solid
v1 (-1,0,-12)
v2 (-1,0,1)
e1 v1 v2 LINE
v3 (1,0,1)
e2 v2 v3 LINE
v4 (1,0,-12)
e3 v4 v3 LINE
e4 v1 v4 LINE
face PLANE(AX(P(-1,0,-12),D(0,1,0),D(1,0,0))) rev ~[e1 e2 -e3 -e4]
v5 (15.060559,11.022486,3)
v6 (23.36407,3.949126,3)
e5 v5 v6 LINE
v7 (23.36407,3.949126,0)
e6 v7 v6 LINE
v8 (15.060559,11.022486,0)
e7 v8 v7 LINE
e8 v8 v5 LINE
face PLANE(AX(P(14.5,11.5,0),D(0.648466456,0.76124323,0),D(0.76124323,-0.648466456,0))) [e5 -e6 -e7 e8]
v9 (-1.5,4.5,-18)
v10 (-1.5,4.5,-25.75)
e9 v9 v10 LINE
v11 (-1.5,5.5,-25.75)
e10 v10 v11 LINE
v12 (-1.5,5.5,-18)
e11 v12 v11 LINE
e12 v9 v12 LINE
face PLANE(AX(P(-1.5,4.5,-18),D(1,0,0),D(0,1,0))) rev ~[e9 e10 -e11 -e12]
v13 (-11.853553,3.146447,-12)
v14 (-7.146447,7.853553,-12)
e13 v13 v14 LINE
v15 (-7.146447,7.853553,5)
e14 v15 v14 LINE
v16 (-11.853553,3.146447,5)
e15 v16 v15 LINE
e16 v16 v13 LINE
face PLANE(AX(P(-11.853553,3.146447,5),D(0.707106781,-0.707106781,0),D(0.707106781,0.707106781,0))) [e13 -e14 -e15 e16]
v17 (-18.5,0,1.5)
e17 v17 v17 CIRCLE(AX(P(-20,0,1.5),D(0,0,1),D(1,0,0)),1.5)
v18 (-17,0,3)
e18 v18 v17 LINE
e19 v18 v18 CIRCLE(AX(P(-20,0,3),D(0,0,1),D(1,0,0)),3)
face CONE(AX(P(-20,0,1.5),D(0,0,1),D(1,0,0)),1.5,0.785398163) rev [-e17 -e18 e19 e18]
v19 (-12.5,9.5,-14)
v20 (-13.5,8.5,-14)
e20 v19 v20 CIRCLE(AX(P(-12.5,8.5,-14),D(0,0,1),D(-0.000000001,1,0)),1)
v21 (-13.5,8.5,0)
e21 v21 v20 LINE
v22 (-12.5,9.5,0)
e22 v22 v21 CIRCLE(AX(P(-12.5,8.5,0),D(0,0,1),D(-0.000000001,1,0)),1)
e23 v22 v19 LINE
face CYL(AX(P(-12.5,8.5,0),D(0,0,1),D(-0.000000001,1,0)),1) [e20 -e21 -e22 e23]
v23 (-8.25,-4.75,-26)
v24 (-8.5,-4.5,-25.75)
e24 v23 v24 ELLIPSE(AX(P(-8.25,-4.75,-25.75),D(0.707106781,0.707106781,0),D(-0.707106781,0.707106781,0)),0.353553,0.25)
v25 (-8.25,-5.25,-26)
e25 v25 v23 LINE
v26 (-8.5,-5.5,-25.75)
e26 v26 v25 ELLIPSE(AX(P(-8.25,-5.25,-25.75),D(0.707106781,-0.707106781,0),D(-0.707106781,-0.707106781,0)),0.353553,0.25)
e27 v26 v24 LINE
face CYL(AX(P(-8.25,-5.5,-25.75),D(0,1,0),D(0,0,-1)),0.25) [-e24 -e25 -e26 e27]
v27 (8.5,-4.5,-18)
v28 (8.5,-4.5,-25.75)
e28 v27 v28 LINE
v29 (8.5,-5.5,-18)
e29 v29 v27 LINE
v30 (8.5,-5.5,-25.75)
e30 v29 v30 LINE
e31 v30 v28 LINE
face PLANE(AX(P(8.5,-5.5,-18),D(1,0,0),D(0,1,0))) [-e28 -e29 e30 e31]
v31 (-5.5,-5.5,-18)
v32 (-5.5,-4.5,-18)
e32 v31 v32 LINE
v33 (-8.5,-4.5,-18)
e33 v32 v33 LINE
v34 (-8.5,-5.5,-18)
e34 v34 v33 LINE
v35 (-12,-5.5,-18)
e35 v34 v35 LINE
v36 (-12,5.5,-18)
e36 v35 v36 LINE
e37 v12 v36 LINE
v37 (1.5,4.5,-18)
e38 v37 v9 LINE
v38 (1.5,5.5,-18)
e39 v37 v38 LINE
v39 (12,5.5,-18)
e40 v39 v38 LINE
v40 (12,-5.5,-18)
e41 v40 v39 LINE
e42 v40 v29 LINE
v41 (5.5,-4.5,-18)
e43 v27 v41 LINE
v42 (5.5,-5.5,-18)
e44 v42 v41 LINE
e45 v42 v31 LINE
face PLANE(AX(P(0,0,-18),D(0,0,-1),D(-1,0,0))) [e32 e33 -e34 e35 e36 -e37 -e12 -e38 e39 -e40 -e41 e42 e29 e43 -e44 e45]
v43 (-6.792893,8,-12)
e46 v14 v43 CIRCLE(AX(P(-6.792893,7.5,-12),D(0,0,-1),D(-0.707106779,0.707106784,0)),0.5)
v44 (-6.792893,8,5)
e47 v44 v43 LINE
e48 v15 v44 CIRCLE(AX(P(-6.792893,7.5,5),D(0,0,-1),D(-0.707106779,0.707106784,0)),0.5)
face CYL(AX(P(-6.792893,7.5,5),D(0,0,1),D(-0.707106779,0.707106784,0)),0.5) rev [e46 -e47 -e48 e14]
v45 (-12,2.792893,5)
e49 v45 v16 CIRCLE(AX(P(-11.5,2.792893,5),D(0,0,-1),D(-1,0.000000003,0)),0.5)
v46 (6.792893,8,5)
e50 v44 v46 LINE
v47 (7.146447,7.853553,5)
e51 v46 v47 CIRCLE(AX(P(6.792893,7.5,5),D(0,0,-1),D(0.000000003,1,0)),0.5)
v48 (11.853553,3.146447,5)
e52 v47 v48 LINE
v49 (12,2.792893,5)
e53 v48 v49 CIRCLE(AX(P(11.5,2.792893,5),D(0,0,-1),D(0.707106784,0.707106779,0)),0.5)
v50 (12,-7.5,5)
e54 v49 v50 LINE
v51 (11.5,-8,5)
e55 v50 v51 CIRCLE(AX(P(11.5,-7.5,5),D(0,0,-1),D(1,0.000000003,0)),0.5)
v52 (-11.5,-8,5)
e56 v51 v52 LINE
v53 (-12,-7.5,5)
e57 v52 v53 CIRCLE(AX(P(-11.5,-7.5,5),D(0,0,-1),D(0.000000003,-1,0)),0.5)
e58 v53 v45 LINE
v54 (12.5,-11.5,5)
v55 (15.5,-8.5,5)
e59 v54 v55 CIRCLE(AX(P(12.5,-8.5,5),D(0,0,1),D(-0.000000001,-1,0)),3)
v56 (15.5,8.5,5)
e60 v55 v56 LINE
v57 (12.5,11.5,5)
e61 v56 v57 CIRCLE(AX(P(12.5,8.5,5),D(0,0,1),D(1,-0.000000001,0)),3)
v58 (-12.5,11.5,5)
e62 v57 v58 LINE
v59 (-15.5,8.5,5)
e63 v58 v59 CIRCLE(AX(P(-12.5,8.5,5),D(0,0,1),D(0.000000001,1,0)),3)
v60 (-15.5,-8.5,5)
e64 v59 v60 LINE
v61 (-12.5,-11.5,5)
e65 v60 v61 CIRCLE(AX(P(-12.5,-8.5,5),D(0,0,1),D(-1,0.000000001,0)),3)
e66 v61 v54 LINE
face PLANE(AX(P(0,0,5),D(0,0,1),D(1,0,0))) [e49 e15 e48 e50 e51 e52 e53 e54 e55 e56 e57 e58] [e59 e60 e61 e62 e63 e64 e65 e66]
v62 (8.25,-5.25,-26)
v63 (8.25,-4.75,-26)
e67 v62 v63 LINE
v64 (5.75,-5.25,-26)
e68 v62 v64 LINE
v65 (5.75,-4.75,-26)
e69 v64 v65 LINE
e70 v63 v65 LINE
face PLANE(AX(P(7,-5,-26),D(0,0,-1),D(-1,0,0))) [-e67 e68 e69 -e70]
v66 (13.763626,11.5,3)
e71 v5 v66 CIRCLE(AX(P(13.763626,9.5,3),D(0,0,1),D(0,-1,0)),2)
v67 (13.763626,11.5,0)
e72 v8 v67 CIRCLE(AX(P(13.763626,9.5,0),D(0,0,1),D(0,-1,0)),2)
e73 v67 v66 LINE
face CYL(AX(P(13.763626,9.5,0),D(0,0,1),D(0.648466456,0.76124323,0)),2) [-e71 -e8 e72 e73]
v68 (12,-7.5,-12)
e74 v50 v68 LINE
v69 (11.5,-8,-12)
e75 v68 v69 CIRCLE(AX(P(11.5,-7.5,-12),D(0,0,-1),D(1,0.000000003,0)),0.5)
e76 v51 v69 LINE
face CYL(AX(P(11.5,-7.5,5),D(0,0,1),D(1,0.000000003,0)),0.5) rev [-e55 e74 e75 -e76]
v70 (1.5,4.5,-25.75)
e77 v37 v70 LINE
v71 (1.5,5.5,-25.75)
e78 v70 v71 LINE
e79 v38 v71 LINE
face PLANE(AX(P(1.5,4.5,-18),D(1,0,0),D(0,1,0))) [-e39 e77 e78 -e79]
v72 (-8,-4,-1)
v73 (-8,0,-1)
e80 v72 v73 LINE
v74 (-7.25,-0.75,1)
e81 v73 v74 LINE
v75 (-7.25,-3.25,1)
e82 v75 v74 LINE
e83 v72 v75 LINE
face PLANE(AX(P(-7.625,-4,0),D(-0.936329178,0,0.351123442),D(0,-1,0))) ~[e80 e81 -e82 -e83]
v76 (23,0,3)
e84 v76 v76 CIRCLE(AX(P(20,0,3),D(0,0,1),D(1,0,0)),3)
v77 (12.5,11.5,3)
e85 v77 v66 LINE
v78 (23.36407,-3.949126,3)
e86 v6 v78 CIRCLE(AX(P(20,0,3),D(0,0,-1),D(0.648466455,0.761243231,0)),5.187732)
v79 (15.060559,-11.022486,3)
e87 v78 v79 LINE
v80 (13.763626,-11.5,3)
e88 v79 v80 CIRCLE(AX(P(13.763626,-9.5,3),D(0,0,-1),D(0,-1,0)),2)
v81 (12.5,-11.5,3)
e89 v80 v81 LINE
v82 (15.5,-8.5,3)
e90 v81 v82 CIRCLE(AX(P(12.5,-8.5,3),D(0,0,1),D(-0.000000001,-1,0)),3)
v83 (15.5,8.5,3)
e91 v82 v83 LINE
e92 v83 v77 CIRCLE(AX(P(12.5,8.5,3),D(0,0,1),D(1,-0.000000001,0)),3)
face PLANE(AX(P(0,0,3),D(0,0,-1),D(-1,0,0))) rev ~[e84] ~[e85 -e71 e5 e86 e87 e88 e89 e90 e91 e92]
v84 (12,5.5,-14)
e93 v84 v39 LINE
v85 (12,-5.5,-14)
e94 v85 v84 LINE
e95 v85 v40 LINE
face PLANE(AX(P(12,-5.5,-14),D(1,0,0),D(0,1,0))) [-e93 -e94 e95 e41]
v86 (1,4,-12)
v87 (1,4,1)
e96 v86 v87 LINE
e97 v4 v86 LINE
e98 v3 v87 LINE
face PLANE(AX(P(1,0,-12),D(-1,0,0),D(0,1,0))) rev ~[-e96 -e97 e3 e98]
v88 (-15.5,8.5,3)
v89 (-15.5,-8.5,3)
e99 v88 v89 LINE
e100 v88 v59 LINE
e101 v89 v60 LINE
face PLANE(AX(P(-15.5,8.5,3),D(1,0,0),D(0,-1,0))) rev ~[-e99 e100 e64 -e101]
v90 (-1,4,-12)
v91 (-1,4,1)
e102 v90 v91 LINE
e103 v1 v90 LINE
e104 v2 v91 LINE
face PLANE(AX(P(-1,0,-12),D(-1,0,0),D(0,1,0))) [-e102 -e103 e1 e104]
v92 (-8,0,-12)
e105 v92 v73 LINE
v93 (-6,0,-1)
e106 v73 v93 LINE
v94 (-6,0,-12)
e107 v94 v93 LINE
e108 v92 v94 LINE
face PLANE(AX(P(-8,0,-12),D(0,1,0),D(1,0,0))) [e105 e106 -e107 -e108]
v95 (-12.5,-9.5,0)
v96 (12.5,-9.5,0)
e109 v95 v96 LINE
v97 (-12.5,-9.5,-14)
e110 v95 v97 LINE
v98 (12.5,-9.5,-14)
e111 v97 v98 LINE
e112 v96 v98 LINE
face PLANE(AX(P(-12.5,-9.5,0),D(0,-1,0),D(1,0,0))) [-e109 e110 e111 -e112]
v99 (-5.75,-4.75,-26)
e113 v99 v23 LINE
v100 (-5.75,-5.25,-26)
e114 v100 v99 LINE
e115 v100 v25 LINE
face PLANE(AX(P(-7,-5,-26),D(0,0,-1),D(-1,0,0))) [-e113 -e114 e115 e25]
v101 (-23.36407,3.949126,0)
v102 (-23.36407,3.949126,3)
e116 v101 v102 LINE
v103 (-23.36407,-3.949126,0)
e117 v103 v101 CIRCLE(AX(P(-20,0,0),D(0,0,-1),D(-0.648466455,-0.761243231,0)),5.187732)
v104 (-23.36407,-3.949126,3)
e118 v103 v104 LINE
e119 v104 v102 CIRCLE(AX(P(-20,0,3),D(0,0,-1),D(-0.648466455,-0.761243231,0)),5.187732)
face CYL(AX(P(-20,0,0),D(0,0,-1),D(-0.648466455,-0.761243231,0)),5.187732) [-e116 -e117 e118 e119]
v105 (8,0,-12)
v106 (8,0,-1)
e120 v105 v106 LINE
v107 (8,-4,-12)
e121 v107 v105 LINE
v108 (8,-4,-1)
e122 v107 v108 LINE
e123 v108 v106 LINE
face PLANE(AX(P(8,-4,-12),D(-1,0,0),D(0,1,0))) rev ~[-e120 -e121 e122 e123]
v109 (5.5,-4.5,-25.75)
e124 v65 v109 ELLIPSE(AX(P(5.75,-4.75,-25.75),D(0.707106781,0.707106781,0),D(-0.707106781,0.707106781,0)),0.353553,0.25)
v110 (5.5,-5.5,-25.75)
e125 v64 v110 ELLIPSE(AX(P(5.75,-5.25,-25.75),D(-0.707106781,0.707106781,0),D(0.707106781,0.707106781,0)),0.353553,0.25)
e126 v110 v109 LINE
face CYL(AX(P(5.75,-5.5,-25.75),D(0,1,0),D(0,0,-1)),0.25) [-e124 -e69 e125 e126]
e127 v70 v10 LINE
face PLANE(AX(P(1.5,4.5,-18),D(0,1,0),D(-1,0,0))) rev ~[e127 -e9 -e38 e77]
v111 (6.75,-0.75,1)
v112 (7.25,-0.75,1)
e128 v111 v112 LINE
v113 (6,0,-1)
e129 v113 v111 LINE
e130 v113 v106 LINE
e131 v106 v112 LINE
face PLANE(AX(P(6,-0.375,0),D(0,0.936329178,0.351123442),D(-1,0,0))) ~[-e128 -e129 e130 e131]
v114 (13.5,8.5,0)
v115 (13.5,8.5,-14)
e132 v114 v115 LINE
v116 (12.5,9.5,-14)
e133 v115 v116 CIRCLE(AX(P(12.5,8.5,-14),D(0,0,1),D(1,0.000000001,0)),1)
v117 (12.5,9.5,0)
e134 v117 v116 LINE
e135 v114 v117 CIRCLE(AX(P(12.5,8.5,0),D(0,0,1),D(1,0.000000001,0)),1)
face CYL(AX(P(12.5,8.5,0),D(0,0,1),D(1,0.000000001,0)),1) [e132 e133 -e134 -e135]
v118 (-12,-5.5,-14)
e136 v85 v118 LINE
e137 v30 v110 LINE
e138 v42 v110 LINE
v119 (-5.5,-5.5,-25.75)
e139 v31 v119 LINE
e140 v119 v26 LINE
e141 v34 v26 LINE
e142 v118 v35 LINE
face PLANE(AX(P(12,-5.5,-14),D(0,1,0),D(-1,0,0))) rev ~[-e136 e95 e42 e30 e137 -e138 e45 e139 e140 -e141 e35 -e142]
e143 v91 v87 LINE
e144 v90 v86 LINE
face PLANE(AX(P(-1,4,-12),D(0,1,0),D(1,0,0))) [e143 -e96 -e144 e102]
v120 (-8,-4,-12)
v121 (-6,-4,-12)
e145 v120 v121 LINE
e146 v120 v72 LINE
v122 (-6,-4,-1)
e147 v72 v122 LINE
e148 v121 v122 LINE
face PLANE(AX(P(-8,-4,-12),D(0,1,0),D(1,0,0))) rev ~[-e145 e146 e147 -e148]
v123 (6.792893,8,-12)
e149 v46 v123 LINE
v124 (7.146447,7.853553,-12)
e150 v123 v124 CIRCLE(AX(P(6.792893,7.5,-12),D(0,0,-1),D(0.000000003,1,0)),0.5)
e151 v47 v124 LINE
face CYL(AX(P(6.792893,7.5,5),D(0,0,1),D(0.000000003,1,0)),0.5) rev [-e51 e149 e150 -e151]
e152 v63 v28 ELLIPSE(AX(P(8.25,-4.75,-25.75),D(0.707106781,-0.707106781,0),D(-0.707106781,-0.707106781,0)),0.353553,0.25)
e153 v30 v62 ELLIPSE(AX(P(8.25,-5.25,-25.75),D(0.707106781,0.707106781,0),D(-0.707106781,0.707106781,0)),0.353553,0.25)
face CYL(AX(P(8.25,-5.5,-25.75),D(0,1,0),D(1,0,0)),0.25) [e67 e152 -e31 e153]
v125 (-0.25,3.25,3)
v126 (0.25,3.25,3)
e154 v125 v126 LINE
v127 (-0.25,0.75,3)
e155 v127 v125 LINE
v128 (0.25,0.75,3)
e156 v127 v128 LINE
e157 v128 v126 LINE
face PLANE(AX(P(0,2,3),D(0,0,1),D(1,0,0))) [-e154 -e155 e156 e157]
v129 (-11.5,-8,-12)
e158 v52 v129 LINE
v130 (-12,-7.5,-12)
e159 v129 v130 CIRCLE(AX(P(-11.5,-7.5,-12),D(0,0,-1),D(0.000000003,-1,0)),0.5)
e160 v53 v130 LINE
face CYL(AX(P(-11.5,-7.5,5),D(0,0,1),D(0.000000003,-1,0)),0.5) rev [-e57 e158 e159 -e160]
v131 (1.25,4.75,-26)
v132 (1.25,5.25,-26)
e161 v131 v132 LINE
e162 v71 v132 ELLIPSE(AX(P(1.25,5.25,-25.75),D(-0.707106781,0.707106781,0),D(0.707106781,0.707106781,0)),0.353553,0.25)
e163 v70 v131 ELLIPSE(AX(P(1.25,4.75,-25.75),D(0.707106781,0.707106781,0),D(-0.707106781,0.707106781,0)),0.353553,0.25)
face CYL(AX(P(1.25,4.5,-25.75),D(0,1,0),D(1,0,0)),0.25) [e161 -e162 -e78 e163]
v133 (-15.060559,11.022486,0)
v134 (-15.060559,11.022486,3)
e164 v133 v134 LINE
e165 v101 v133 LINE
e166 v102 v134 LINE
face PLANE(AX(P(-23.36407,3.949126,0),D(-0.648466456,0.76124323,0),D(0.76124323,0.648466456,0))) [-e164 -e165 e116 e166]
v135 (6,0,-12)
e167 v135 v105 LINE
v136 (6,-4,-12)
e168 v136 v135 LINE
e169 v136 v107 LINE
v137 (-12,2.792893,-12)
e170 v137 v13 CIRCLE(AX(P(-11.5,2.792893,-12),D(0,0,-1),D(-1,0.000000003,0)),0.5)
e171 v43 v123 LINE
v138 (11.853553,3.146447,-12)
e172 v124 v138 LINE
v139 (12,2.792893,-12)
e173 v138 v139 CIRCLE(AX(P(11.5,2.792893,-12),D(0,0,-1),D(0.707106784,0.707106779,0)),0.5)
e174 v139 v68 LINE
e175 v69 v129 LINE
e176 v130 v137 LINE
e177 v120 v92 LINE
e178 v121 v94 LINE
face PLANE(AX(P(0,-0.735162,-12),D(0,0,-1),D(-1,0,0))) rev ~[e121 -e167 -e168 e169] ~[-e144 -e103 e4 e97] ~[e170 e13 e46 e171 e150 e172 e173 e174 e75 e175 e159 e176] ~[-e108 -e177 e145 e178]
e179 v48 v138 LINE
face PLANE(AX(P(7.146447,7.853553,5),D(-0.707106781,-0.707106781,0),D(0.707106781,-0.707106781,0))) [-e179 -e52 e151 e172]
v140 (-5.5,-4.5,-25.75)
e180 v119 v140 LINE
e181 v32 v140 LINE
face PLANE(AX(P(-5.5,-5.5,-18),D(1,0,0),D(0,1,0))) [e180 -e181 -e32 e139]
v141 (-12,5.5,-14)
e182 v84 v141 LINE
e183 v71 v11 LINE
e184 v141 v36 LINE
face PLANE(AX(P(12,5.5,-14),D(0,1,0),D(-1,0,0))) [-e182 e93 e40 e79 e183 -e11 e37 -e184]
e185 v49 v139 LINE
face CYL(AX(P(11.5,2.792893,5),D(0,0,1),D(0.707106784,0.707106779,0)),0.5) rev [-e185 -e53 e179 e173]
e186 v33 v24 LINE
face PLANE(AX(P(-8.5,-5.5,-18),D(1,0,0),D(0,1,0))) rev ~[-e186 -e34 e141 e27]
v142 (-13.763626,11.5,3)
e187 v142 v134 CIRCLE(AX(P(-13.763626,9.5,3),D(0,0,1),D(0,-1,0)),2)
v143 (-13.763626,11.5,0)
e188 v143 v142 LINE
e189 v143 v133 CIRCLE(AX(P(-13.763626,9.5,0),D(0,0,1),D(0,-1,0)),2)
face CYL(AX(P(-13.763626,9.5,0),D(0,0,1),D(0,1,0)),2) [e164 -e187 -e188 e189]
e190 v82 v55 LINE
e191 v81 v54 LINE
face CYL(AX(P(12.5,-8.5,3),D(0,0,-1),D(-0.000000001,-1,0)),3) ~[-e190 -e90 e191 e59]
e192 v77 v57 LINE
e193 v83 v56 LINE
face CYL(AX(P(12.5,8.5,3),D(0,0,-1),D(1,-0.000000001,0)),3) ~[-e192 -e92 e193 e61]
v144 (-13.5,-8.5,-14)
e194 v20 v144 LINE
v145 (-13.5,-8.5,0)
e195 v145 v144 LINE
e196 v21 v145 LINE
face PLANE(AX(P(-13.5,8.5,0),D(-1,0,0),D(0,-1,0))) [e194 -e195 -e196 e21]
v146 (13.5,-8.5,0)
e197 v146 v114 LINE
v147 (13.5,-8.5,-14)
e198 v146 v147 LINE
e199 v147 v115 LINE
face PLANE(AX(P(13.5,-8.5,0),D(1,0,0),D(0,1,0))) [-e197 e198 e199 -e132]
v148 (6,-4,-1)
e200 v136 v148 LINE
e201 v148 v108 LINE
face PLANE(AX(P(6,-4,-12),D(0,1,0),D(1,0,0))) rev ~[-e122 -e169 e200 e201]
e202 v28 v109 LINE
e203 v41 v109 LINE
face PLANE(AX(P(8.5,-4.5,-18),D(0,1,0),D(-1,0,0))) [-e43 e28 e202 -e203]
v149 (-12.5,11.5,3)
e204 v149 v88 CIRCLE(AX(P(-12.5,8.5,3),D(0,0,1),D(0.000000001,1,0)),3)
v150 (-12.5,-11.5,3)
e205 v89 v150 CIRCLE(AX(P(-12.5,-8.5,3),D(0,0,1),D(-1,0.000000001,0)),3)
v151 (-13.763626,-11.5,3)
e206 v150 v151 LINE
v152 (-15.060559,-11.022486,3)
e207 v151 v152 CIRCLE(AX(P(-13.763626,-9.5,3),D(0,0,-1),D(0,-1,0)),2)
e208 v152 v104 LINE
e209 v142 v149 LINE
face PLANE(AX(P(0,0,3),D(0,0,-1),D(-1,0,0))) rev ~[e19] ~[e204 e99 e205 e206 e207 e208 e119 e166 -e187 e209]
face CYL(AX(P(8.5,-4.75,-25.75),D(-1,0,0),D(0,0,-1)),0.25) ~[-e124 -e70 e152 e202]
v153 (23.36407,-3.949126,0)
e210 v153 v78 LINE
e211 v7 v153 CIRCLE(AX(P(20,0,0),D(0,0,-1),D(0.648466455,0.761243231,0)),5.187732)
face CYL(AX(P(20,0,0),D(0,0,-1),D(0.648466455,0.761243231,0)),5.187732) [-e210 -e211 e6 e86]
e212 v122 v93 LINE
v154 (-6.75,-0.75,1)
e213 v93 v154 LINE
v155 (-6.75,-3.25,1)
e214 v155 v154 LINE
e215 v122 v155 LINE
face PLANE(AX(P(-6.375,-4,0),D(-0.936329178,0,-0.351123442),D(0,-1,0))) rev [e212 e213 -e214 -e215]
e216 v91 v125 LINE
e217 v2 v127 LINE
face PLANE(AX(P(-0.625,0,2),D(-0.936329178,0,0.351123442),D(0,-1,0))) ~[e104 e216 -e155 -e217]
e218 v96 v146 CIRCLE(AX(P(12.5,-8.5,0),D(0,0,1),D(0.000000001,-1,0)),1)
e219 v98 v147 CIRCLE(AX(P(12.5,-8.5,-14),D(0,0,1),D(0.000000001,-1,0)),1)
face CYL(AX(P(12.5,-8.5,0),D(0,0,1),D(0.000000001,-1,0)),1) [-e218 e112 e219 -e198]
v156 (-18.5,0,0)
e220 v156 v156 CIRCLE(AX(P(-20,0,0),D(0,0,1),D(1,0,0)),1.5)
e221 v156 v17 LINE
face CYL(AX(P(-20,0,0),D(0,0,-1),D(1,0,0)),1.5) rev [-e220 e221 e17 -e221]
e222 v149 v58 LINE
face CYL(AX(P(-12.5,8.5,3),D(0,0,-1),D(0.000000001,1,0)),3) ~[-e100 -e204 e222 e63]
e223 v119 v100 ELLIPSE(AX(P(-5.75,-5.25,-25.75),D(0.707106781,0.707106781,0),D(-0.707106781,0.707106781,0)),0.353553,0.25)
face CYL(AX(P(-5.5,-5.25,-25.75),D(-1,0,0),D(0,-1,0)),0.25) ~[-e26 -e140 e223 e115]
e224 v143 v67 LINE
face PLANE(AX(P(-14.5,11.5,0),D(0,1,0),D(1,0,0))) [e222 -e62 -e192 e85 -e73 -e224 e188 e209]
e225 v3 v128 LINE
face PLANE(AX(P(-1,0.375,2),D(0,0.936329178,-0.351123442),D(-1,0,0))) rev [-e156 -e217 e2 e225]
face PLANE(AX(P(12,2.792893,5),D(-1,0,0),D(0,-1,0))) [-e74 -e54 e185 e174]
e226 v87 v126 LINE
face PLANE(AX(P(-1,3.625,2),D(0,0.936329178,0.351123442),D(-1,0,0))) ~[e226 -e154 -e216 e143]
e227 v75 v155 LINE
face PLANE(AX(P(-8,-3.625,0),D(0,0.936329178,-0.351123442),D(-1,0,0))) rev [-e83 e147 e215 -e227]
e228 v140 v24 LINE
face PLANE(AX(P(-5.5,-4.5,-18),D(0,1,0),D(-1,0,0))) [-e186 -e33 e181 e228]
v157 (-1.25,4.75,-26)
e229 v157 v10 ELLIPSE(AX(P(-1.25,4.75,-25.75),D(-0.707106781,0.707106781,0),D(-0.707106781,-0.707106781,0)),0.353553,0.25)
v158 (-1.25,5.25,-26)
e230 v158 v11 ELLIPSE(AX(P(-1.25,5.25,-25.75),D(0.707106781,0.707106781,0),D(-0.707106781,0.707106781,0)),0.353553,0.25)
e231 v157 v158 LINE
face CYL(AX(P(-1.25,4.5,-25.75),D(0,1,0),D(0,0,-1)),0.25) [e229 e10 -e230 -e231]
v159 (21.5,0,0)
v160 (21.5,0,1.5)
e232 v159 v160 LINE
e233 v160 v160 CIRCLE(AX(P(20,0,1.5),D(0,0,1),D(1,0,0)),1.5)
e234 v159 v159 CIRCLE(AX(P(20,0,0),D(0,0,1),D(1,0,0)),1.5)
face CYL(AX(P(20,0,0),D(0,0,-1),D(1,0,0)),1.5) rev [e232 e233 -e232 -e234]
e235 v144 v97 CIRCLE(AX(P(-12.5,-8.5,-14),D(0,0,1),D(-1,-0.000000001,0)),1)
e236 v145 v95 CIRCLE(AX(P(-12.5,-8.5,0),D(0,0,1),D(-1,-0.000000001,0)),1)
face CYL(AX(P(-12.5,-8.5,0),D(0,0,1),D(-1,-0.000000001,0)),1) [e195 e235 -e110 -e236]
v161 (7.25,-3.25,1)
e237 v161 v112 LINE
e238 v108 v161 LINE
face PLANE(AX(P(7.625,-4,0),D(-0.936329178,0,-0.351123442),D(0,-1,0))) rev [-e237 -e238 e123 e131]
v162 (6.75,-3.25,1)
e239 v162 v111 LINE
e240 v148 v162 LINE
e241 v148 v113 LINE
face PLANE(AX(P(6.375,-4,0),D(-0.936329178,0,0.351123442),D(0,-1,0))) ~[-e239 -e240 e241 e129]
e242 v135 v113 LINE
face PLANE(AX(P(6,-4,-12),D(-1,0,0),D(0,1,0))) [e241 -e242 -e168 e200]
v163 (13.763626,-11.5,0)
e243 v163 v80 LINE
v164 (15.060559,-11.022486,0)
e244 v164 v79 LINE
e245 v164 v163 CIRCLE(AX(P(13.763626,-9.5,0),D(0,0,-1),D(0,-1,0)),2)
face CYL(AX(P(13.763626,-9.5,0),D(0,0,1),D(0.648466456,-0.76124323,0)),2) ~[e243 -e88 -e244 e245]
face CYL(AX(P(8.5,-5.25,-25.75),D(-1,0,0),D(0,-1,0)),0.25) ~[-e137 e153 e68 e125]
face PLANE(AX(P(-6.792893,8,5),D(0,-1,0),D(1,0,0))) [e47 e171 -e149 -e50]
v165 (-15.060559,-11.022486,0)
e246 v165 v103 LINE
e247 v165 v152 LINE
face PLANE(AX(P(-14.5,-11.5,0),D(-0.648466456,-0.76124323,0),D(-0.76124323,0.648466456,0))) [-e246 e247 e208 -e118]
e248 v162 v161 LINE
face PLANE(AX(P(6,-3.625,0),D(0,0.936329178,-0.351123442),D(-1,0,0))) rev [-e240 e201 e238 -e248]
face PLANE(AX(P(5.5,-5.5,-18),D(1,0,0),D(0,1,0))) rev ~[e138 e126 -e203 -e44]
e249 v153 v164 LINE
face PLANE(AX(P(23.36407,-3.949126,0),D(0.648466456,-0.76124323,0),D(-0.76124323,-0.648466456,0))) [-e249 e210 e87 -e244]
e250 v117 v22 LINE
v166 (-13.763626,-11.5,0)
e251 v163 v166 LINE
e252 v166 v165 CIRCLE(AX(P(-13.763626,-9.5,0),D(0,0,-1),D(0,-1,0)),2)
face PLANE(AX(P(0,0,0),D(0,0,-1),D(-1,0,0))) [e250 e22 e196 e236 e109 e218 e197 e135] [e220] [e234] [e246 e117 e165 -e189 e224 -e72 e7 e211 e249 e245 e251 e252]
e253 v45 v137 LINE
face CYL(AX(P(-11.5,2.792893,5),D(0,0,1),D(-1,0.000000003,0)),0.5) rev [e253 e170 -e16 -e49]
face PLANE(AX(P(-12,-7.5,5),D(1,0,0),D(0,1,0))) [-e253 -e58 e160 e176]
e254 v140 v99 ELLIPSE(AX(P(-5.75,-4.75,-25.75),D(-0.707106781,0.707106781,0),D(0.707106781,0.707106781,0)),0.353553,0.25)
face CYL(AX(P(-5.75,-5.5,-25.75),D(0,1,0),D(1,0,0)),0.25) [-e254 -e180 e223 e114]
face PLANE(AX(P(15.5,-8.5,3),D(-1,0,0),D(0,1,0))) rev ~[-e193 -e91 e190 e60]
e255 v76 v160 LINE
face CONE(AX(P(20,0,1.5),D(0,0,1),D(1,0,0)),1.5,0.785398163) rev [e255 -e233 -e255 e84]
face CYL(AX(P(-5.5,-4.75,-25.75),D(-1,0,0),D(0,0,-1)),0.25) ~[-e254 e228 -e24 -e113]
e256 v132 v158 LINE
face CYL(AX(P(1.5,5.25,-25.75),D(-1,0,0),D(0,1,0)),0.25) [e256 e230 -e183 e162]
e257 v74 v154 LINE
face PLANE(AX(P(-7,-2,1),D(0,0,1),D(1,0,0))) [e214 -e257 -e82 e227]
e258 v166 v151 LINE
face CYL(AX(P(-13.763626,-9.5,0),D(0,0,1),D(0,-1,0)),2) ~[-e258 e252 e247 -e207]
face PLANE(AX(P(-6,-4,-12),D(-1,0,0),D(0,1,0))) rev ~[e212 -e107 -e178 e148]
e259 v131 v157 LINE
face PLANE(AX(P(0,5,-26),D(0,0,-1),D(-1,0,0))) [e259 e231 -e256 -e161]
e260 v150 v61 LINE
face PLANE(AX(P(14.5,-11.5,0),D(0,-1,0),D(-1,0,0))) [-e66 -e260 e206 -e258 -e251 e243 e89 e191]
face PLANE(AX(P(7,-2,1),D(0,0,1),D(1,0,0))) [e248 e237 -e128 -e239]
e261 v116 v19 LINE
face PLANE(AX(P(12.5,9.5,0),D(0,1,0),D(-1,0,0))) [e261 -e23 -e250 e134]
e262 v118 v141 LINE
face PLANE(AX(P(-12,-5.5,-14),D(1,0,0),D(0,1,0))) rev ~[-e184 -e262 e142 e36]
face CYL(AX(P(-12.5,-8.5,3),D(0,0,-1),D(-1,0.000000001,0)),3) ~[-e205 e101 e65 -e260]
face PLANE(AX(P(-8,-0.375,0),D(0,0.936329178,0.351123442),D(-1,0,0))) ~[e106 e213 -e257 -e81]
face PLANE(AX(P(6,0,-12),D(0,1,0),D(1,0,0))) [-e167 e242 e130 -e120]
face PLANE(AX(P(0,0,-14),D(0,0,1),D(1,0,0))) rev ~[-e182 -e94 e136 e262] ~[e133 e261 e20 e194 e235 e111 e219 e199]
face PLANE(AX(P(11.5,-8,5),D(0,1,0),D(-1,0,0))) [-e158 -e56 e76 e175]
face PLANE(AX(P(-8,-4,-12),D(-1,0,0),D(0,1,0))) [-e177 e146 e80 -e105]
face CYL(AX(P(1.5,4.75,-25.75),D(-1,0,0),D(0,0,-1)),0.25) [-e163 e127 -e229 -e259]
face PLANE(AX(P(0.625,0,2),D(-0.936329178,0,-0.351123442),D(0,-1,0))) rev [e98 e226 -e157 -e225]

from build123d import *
from OCP.BRepFilletAPI import BRepFilletAPI_MakeChamfer

# Parameters (mm, degrees)
SKIZZE1_R                       = 1.5
AUFSATZ_LINEAR_AUSTRAGEN1_DEPTH = 3
VERRUNDUNG1_R                   = 2
FASE1_SIZE                      = 1.5
AUFSATZ_LINEAR_AUSTRAGEN2_DEPTH = 2
AUFSATZ_LINEAR_AUSTRAGEN3_DEPTH = 14
SCHNITT_LINEAR_AUSTRAGEN1_DEPTH = 17
SKIZZE5_W                       = 24
SKIZZE5_H                       = 11
AUFSATZ_LINEAR_AUSTRAGEN4_DEPTH = 4
SKIZZE6_W                       = 3
SKIZZE6_H                       = 1
AUFSATZ_LINEAR_AUSTRAGEN5_DEPTH = 8
SKIZZE7_W                       = 2
SKIZZE7_H                       = 4
AUFSATZ_LINEAR_AUSTRAGEN6_DEPTH = 13
SKIZZE8_W                       = 2
SKIZZE8_H                       = 4
AUFSATZ_LINEAR_AUSTRAGEN7_DEPTH = 15
FASE2_SIZE                      = 2
FASE2_SIZE2                     = 0.75
VERRUNDUNG2_R                   = 0.25


with BuildPart() as part:
    # Skizze1 → Aufsatz-Linear austragen1 (new body)
    with BuildSketch(Plane.XY):
        with BuildLine():
            ThreePointArc((23.364069952, 3.949125596), (25.187731645, 0), (23.364069952, -3.949125596))
            Line((23.364069952, -3.949125596), (14.5, -11.5))
            Line((14.5, -11.5), (-14.5, -11.5))
            Line((-14.5, -11.5), (-23.364069952, -3.949125596))
            ThreePointArc((-23.364069952, -3.949125596), (-25.187731645, 0), (-23.364069952, 3.949125596))
            Line((-23.364069952, 3.949125596), (-14.5, 11.5))
            Line((-14.5, 11.5), (14.5, 11.5))
            Line((14.5, 11.5), (23.364069952, 3.949125596))
        make_face()
        with Locations((20, 0)):
            Circle(SKIZZE1_R, mode=Mode.SUBTRACT)
        with Locations((-20, 0)):
            Circle(SKIZZE1_R, mode=Mode.SUBTRACT)
    extrude(amount=AUFSATZ_LINEAR_AUSTRAGEN1_DEPTH)

    # Verrundung1
    verrundung1_edges = [part.edges().sort_by_distance(p)[0] for p in [
        (14.5, -11.5, 1.5),
        (-14.5, -11.5, 1.5),
        (-14.5, 11.5, 1.5),
        (14.5, 11.5, 1.5),
    ]]
    fillet(verrundung1_edges, radius=VERRUNDUNG1_R)

    # Fase1
    fase1_edges = [part.edges().sort_by_distance(p)[0] for p in [
        (18.5, 0, 3),
        (-21.5, 0, 3),
    ]]
    chamfer(fase1_edges, length=FASE1_SIZE)

    # Skizze2 → Aufsatz-Linear austragen2 (add)
    with BuildSketch(Plane.XY.offset(3)):
        with BuildLine():
            Line((-12.5, -11.5), (12.5, -11.5))
            ThreePointArc((12.5, -11.5), (14.621320344, -10.621320344), (15.5, -8.5))
            Line((15.5, -8.5), (15.5, 8.5))
            ThreePointArc((15.5, 8.5), (14.621320344, 10.621320344), (12.5, 11.5))
            Line((12.5, 11.5), (-12.5, 11.5))
            ThreePointArc((-12.5, 11.5), (-14.621320344, 10.621320344), (-15.5, 8.5))
            Line((-15.5, 8.5), (-15.5, -8.5))
            ThreePointArc((-15.5, -8.5), (-14.621320344, -10.621320344), (-12.5, -11.5))
        make_face()
    extrude(amount=AUFSATZ_LINEAR_AUSTRAGEN2_DEPTH)

    # Skizze4 → Aufsatz-Linear austragen3 (add)
    with BuildSketch(Plane(origin=(0, 0, 0), x_dir=(-1, 0, 0), z_dir=(0, 0, -1))):
        with BuildLine():
            Line((12.5, -9.5), (-12.5, -9.5))
            ThreePointArc((-12.5, -9.5), (-13.207106781, -9.207106781), (-13.5, -8.5))
            Line((-13.5, -8.5), (-13.5, 8.5))
            ThreePointArc((-13.5, 8.5), (-13.207106781, 9.207106781), (-12.5, 9.5))
            Line((-12.5, 9.5), (12.5, 9.5))
            ThreePointArc((12.5, 9.5), (13.207106781, 9.207106781), (13.5, 8.5))
            Line((13.5, 8.5), (13.5, -8.5))
            ThreePointArc((13.5, -8.5), (13.207106781, -9.207106781), (12.5, -9.5))
        make_face()
    extrude(amount=AUFSATZ_LINEAR_AUSTRAGEN3_DEPTH)

    # Skizze3 → Schnitt-Linear austragen1 (cut)
    with BuildSketch(Plane.XY.offset(5)):
        with BuildLine():
            Line((11.5, -8), (-11.5, -8))
            ThreePointArc((-11.5, -8), (-11.853553391, -7.853553391), (-12, -7.5))
            Line((-12, -7.5), (-12, 2.792893219))
            ThreePointArc((-12, 2.792893219), (-11.961939766, 2.984234935), (-11.853553391, 3.146446609))
            Line((-11.853553391, 3.146446609), (-7.146446609, 7.853553391))
            ThreePointArc((-7.146446609, 7.853553391), (-6.984234935, 7.961939766), (-6.792893219, 8))
            Line((-6.792893219, 8), (6.792893219, 8))
            ThreePointArc((6.792893219, 8), (6.984234935, 7.961939766), (7.146446609, 7.853553391))
            Line((7.146446609, 7.853553391), (11.853553391, 3.146446609))
            ThreePointArc((11.853553391, 3.146446609), (11.961939766, 2.984234935), (12, 2.792893219))
            Line((12, 2.792893219), (12, -7.5))
            ThreePointArc((12, -7.5), (11.853553391, -7.853553391), (11.5, -8))
        make_face()
    extrude(amount=-SCHNITT_LINEAR_AUSTRAGEN1_DEPTH, mode=Mode.SUBTRACT)

    # Skizze5 → Aufsatz-Linear austragen4 (add)
    with BuildSketch(Plane(origin=(0, 0, -14), x_dir=(-1, 0, 0), z_dir=(0, 0, -1))):
        Rectangle(SKIZZE5_W, SKIZZE5_H)
    extrude(amount=AUFSATZ_LINEAR_AUSTRAGEN4_DEPTH)

    # Skizze6 → Aufsatz-Linear austragen5 (add)
    with BuildSketch(Plane(origin=(0, 0, -18), x_dir=(-1, 0, 0), z_dir=(0, 0, -1))):
        with Locations((0, 5)):
            Rectangle(SKIZZE6_W, SKIZZE6_H)
        with Locations((-7, -5)):
            Rectangle(SKIZZE6_W, SKIZZE6_H)
        with Locations((7, -5)):
            Rectangle(SKIZZE6_W, SKIZZE6_H)
    extrude(amount=AUFSATZ_LINEAR_AUSTRAGEN5_DEPTH)

    # Skizze7 → Aufsatz-Linear austragen6 (add)
    with BuildSketch(Plane.XY.offset(-12)):
        with Locations((-7, -2)):
            Rectangle(SKIZZE7_W, SKIZZE7_H)
        with Locations((7, -2)):
            Rectangle(SKIZZE7_W, SKIZZE7_H)
    extrude(amount=AUFSATZ_LINEAR_AUSTRAGEN6_DEPTH)

    # Skizze8 → Aufsatz-Linear austragen7 (add)
    with BuildSketch(Plane.XY.offset(-12)):
        with Locations((0, 2)):
            Rectangle(SKIZZE8_W, SKIZZE8_H)
    extrude(amount=AUFSATZ_LINEAR_AUSTRAGEN7_DEPTH)

    # Fase2: one chamfer whose edges measure the first distance from different faces: ONE call of the kernel's chamfer builder (chamfer() names one face for all edges)
    fase2_edges_1 = [part.edges().sort_by_distance(p)[0] for p in [
        (7, -4, 1),
    ]]
    fase2_side_1 = [part.faces().sort_by_distance(p)[0] for p in [
        (7, -4, -5.5),
    ]]
    fase2_edges_2 = [part.edges().sort_by_distance(p)[0] for p in [
        (6, -2, 1),
    ]]
    fase2_side_2 = [part.faces().sort_by_distance(p)[0] for p in [
        (6, -2, -5.5),
    ]]
    fase2_edges_3 = [part.edges().sort_by_distance(p)[0] for p in [
        (7, 0, 1),
    ]]
    fase2_side_3 = [part.faces().sort_by_distance(p)[0] for p in [
        (7, 0, -5.5),
    ]]
    fase2_edges_4 = [part.edges().sort_by_distance(p)[0] for p in [
        (8, -2, 1),
    ]]
    fase2_side_4 = [part.faces().sort_by_distance(p)[0] for p in [
        (8, -2, -5.5),
    ]]
    fase2_edges_5 = [part.edges().sort_by_distance(p)[0] for p in [
        (0, 0, 3),
    ]]
    fase2_side_5 = [part.faces().sort_by_distance(p)[0] for p in [
        (0, 0, -4.5),
    ]]
    fase2_edges_6 = [part.edges().sort_by_distance(p)[0] for p in [
        (-1, 2, 3),
    ]]
    fase2_side_6 = [part.faces().sort_by_distance(p)[0] for p in [
        (-1, 2, -4.5),
    ]]
    fase2_edges_7 = [part.edges().sort_by_distance(p)[0] for p in [
        (0, 4, 3),
    ]]
    fase2_side_7 = [part.faces().sort_by_distance(p)[0] for p in [
        (0, 4, -4.5),
    ]]
    fase2_edges_8 = [part.edges().sort_by_distance(p)[0] for p in [
        (1, 2, 3),
    ]]
    fase2_side_8 = [part.faces().sort_by_distance(p)[0] for p in [
        (1, 2, -4.5),
    ]]
    fase2_edges_9 = [part.edges().sort_by_distance(p)[0] for p in [
        (-7, 0, 1),
    ]]
    fase2_side_9 = [part.faces().sort_by_distance(p)[0] for p in [
        (-7, 0, -5.5),
    ]]
    fase2_edges_10 = [part.edges().sort_by_distance(p)[0] for p in [
        (-6, -2, 1),
    ]]
    fase2_side_10 = [part.faces().sort_by_distance(p)[0] for p in [
        (-6, -2, -5.5),
    ]]
    fase2_edges_11 = [part.edges().sort_by_distance(p)[0] for p in [
        (-7, -4, 1),
    ]]
    fase2_side_11 = [part.faces().sort_by_distance(p)[0] for p in [
        (-7, -4, -5.5),
    ]]
    fase2_edges_12 = [part.edges().sort_by_distance(p)[0] for p in [
        (-8, -2, 1),
    ]]
    fase2_side_12 = [part.faces().sort_by_distance(p)[0] for p in [
        (-8, -2, -5.5),
    ]]
    fase2 = BRepFilletAPI_MakeChamfer(part.part.solid().wrapped)
    for e in fase2_edges_1:
        fase2.Add(FASE2_SIZE, FASE2_SIZE2, e.wrapped, fase2_side_1[0].wrapped)  # the first distance lies on this face
    for e in fase2_edges_2:
        fase2.Add(FASE2_SIZE, FASE2_SIZE2, e.wrapped, fase2_side_2[0].wrapped)  # the first distance lies on this face
    for e in fase2_edges_3:
        fase2.Add(FASE2_SIZE, FASE2_SIZE2, e.wrapped, fase2_side_3[0].wrapped)  # the first distance lies on this face
    for e in fase2_edges_4:
        fase2.Add(FASE2_SIZE, FASE2_SIZE2, e.wrapped, fase2_side_4[0].wrapped)  # the first distance lies on this face
    for e in fase2_edges_5:
        fase2.Add(FASE2_SIZE, FASE2_SIZE2, e.wrapped, fase2_side_5[0].wrapped)  # the first distance lies on this face
    for e in fase2_edges_6:
        fase2.Add(FASE2_SIZE, FASE2_SIZE2, e.wrapped, fase2_side_6[0].wrapped)  # the first distance lies on this face
    for e in fase2_edges_7:
        fase2.Add(FASE2_SIZE, FASE2_SIZE2, e.wrapped, fase2_side_7[0].wrapped)  # the first distance lies on this face
    for e in fase2_edges_8:
        fase2.Add(FASE2_SIZE, FASE2_SIZE2, e.wrapped, fase2_side_8[0].wrapped)  # the first distance lies on this face
    for e in fase2_edges_9:
        fase2.Add(FASE2_SIZE, FASE2_SIZE2, e.wrapped, fase2_side_9[0].wrapped)  # the first distance lies on this face
    for e in fase2_edges_10:
        fase2.Add(FASE2_SIZE, FASE2_SIZE2, e.wrapped, fase2_side_10[0].wrapped)  # the first distance lies on this face
    for e in fase2_edges_11:
        fase2.Add(FASE2_SIZE, FASE2_SIZE2, e.wrapped, fase2_side_11[0].wrapped)  # the first distance lies on this face
    for e in fase2_edges_12:
        fase2.Add(FASE2_SIZE, FASE2_SIZE2, e.wrapped, fase2_side_12[0].wrapped)  # the first distance lies on this face
    add(Compound.cast(fase2.Shape()), mode=Mode.REPLACE)

    # Verrundung2
    verrundung2_edges = [part.edges().sort_by_distance(p)[0] for p in [
        (1.5, 5, -26),
        (0, 4.5, -26),
        (-1.5, 5, -26),
        (0, 5.5, -26),
        (5.5, -5, -26),
        (7, -4.5, -26),
        (8.5, -5, -26),
        (7, -5.5, -26),
        (-5.5, -5, -26),
        (-7, -5.5, -26),
        (-8.5, -5, -26),
        (-7, -4.5, -26),
    ]]
    fillet(verrundung2_edges, radius=VERRUNDUNG2_R)


solid = part.part
